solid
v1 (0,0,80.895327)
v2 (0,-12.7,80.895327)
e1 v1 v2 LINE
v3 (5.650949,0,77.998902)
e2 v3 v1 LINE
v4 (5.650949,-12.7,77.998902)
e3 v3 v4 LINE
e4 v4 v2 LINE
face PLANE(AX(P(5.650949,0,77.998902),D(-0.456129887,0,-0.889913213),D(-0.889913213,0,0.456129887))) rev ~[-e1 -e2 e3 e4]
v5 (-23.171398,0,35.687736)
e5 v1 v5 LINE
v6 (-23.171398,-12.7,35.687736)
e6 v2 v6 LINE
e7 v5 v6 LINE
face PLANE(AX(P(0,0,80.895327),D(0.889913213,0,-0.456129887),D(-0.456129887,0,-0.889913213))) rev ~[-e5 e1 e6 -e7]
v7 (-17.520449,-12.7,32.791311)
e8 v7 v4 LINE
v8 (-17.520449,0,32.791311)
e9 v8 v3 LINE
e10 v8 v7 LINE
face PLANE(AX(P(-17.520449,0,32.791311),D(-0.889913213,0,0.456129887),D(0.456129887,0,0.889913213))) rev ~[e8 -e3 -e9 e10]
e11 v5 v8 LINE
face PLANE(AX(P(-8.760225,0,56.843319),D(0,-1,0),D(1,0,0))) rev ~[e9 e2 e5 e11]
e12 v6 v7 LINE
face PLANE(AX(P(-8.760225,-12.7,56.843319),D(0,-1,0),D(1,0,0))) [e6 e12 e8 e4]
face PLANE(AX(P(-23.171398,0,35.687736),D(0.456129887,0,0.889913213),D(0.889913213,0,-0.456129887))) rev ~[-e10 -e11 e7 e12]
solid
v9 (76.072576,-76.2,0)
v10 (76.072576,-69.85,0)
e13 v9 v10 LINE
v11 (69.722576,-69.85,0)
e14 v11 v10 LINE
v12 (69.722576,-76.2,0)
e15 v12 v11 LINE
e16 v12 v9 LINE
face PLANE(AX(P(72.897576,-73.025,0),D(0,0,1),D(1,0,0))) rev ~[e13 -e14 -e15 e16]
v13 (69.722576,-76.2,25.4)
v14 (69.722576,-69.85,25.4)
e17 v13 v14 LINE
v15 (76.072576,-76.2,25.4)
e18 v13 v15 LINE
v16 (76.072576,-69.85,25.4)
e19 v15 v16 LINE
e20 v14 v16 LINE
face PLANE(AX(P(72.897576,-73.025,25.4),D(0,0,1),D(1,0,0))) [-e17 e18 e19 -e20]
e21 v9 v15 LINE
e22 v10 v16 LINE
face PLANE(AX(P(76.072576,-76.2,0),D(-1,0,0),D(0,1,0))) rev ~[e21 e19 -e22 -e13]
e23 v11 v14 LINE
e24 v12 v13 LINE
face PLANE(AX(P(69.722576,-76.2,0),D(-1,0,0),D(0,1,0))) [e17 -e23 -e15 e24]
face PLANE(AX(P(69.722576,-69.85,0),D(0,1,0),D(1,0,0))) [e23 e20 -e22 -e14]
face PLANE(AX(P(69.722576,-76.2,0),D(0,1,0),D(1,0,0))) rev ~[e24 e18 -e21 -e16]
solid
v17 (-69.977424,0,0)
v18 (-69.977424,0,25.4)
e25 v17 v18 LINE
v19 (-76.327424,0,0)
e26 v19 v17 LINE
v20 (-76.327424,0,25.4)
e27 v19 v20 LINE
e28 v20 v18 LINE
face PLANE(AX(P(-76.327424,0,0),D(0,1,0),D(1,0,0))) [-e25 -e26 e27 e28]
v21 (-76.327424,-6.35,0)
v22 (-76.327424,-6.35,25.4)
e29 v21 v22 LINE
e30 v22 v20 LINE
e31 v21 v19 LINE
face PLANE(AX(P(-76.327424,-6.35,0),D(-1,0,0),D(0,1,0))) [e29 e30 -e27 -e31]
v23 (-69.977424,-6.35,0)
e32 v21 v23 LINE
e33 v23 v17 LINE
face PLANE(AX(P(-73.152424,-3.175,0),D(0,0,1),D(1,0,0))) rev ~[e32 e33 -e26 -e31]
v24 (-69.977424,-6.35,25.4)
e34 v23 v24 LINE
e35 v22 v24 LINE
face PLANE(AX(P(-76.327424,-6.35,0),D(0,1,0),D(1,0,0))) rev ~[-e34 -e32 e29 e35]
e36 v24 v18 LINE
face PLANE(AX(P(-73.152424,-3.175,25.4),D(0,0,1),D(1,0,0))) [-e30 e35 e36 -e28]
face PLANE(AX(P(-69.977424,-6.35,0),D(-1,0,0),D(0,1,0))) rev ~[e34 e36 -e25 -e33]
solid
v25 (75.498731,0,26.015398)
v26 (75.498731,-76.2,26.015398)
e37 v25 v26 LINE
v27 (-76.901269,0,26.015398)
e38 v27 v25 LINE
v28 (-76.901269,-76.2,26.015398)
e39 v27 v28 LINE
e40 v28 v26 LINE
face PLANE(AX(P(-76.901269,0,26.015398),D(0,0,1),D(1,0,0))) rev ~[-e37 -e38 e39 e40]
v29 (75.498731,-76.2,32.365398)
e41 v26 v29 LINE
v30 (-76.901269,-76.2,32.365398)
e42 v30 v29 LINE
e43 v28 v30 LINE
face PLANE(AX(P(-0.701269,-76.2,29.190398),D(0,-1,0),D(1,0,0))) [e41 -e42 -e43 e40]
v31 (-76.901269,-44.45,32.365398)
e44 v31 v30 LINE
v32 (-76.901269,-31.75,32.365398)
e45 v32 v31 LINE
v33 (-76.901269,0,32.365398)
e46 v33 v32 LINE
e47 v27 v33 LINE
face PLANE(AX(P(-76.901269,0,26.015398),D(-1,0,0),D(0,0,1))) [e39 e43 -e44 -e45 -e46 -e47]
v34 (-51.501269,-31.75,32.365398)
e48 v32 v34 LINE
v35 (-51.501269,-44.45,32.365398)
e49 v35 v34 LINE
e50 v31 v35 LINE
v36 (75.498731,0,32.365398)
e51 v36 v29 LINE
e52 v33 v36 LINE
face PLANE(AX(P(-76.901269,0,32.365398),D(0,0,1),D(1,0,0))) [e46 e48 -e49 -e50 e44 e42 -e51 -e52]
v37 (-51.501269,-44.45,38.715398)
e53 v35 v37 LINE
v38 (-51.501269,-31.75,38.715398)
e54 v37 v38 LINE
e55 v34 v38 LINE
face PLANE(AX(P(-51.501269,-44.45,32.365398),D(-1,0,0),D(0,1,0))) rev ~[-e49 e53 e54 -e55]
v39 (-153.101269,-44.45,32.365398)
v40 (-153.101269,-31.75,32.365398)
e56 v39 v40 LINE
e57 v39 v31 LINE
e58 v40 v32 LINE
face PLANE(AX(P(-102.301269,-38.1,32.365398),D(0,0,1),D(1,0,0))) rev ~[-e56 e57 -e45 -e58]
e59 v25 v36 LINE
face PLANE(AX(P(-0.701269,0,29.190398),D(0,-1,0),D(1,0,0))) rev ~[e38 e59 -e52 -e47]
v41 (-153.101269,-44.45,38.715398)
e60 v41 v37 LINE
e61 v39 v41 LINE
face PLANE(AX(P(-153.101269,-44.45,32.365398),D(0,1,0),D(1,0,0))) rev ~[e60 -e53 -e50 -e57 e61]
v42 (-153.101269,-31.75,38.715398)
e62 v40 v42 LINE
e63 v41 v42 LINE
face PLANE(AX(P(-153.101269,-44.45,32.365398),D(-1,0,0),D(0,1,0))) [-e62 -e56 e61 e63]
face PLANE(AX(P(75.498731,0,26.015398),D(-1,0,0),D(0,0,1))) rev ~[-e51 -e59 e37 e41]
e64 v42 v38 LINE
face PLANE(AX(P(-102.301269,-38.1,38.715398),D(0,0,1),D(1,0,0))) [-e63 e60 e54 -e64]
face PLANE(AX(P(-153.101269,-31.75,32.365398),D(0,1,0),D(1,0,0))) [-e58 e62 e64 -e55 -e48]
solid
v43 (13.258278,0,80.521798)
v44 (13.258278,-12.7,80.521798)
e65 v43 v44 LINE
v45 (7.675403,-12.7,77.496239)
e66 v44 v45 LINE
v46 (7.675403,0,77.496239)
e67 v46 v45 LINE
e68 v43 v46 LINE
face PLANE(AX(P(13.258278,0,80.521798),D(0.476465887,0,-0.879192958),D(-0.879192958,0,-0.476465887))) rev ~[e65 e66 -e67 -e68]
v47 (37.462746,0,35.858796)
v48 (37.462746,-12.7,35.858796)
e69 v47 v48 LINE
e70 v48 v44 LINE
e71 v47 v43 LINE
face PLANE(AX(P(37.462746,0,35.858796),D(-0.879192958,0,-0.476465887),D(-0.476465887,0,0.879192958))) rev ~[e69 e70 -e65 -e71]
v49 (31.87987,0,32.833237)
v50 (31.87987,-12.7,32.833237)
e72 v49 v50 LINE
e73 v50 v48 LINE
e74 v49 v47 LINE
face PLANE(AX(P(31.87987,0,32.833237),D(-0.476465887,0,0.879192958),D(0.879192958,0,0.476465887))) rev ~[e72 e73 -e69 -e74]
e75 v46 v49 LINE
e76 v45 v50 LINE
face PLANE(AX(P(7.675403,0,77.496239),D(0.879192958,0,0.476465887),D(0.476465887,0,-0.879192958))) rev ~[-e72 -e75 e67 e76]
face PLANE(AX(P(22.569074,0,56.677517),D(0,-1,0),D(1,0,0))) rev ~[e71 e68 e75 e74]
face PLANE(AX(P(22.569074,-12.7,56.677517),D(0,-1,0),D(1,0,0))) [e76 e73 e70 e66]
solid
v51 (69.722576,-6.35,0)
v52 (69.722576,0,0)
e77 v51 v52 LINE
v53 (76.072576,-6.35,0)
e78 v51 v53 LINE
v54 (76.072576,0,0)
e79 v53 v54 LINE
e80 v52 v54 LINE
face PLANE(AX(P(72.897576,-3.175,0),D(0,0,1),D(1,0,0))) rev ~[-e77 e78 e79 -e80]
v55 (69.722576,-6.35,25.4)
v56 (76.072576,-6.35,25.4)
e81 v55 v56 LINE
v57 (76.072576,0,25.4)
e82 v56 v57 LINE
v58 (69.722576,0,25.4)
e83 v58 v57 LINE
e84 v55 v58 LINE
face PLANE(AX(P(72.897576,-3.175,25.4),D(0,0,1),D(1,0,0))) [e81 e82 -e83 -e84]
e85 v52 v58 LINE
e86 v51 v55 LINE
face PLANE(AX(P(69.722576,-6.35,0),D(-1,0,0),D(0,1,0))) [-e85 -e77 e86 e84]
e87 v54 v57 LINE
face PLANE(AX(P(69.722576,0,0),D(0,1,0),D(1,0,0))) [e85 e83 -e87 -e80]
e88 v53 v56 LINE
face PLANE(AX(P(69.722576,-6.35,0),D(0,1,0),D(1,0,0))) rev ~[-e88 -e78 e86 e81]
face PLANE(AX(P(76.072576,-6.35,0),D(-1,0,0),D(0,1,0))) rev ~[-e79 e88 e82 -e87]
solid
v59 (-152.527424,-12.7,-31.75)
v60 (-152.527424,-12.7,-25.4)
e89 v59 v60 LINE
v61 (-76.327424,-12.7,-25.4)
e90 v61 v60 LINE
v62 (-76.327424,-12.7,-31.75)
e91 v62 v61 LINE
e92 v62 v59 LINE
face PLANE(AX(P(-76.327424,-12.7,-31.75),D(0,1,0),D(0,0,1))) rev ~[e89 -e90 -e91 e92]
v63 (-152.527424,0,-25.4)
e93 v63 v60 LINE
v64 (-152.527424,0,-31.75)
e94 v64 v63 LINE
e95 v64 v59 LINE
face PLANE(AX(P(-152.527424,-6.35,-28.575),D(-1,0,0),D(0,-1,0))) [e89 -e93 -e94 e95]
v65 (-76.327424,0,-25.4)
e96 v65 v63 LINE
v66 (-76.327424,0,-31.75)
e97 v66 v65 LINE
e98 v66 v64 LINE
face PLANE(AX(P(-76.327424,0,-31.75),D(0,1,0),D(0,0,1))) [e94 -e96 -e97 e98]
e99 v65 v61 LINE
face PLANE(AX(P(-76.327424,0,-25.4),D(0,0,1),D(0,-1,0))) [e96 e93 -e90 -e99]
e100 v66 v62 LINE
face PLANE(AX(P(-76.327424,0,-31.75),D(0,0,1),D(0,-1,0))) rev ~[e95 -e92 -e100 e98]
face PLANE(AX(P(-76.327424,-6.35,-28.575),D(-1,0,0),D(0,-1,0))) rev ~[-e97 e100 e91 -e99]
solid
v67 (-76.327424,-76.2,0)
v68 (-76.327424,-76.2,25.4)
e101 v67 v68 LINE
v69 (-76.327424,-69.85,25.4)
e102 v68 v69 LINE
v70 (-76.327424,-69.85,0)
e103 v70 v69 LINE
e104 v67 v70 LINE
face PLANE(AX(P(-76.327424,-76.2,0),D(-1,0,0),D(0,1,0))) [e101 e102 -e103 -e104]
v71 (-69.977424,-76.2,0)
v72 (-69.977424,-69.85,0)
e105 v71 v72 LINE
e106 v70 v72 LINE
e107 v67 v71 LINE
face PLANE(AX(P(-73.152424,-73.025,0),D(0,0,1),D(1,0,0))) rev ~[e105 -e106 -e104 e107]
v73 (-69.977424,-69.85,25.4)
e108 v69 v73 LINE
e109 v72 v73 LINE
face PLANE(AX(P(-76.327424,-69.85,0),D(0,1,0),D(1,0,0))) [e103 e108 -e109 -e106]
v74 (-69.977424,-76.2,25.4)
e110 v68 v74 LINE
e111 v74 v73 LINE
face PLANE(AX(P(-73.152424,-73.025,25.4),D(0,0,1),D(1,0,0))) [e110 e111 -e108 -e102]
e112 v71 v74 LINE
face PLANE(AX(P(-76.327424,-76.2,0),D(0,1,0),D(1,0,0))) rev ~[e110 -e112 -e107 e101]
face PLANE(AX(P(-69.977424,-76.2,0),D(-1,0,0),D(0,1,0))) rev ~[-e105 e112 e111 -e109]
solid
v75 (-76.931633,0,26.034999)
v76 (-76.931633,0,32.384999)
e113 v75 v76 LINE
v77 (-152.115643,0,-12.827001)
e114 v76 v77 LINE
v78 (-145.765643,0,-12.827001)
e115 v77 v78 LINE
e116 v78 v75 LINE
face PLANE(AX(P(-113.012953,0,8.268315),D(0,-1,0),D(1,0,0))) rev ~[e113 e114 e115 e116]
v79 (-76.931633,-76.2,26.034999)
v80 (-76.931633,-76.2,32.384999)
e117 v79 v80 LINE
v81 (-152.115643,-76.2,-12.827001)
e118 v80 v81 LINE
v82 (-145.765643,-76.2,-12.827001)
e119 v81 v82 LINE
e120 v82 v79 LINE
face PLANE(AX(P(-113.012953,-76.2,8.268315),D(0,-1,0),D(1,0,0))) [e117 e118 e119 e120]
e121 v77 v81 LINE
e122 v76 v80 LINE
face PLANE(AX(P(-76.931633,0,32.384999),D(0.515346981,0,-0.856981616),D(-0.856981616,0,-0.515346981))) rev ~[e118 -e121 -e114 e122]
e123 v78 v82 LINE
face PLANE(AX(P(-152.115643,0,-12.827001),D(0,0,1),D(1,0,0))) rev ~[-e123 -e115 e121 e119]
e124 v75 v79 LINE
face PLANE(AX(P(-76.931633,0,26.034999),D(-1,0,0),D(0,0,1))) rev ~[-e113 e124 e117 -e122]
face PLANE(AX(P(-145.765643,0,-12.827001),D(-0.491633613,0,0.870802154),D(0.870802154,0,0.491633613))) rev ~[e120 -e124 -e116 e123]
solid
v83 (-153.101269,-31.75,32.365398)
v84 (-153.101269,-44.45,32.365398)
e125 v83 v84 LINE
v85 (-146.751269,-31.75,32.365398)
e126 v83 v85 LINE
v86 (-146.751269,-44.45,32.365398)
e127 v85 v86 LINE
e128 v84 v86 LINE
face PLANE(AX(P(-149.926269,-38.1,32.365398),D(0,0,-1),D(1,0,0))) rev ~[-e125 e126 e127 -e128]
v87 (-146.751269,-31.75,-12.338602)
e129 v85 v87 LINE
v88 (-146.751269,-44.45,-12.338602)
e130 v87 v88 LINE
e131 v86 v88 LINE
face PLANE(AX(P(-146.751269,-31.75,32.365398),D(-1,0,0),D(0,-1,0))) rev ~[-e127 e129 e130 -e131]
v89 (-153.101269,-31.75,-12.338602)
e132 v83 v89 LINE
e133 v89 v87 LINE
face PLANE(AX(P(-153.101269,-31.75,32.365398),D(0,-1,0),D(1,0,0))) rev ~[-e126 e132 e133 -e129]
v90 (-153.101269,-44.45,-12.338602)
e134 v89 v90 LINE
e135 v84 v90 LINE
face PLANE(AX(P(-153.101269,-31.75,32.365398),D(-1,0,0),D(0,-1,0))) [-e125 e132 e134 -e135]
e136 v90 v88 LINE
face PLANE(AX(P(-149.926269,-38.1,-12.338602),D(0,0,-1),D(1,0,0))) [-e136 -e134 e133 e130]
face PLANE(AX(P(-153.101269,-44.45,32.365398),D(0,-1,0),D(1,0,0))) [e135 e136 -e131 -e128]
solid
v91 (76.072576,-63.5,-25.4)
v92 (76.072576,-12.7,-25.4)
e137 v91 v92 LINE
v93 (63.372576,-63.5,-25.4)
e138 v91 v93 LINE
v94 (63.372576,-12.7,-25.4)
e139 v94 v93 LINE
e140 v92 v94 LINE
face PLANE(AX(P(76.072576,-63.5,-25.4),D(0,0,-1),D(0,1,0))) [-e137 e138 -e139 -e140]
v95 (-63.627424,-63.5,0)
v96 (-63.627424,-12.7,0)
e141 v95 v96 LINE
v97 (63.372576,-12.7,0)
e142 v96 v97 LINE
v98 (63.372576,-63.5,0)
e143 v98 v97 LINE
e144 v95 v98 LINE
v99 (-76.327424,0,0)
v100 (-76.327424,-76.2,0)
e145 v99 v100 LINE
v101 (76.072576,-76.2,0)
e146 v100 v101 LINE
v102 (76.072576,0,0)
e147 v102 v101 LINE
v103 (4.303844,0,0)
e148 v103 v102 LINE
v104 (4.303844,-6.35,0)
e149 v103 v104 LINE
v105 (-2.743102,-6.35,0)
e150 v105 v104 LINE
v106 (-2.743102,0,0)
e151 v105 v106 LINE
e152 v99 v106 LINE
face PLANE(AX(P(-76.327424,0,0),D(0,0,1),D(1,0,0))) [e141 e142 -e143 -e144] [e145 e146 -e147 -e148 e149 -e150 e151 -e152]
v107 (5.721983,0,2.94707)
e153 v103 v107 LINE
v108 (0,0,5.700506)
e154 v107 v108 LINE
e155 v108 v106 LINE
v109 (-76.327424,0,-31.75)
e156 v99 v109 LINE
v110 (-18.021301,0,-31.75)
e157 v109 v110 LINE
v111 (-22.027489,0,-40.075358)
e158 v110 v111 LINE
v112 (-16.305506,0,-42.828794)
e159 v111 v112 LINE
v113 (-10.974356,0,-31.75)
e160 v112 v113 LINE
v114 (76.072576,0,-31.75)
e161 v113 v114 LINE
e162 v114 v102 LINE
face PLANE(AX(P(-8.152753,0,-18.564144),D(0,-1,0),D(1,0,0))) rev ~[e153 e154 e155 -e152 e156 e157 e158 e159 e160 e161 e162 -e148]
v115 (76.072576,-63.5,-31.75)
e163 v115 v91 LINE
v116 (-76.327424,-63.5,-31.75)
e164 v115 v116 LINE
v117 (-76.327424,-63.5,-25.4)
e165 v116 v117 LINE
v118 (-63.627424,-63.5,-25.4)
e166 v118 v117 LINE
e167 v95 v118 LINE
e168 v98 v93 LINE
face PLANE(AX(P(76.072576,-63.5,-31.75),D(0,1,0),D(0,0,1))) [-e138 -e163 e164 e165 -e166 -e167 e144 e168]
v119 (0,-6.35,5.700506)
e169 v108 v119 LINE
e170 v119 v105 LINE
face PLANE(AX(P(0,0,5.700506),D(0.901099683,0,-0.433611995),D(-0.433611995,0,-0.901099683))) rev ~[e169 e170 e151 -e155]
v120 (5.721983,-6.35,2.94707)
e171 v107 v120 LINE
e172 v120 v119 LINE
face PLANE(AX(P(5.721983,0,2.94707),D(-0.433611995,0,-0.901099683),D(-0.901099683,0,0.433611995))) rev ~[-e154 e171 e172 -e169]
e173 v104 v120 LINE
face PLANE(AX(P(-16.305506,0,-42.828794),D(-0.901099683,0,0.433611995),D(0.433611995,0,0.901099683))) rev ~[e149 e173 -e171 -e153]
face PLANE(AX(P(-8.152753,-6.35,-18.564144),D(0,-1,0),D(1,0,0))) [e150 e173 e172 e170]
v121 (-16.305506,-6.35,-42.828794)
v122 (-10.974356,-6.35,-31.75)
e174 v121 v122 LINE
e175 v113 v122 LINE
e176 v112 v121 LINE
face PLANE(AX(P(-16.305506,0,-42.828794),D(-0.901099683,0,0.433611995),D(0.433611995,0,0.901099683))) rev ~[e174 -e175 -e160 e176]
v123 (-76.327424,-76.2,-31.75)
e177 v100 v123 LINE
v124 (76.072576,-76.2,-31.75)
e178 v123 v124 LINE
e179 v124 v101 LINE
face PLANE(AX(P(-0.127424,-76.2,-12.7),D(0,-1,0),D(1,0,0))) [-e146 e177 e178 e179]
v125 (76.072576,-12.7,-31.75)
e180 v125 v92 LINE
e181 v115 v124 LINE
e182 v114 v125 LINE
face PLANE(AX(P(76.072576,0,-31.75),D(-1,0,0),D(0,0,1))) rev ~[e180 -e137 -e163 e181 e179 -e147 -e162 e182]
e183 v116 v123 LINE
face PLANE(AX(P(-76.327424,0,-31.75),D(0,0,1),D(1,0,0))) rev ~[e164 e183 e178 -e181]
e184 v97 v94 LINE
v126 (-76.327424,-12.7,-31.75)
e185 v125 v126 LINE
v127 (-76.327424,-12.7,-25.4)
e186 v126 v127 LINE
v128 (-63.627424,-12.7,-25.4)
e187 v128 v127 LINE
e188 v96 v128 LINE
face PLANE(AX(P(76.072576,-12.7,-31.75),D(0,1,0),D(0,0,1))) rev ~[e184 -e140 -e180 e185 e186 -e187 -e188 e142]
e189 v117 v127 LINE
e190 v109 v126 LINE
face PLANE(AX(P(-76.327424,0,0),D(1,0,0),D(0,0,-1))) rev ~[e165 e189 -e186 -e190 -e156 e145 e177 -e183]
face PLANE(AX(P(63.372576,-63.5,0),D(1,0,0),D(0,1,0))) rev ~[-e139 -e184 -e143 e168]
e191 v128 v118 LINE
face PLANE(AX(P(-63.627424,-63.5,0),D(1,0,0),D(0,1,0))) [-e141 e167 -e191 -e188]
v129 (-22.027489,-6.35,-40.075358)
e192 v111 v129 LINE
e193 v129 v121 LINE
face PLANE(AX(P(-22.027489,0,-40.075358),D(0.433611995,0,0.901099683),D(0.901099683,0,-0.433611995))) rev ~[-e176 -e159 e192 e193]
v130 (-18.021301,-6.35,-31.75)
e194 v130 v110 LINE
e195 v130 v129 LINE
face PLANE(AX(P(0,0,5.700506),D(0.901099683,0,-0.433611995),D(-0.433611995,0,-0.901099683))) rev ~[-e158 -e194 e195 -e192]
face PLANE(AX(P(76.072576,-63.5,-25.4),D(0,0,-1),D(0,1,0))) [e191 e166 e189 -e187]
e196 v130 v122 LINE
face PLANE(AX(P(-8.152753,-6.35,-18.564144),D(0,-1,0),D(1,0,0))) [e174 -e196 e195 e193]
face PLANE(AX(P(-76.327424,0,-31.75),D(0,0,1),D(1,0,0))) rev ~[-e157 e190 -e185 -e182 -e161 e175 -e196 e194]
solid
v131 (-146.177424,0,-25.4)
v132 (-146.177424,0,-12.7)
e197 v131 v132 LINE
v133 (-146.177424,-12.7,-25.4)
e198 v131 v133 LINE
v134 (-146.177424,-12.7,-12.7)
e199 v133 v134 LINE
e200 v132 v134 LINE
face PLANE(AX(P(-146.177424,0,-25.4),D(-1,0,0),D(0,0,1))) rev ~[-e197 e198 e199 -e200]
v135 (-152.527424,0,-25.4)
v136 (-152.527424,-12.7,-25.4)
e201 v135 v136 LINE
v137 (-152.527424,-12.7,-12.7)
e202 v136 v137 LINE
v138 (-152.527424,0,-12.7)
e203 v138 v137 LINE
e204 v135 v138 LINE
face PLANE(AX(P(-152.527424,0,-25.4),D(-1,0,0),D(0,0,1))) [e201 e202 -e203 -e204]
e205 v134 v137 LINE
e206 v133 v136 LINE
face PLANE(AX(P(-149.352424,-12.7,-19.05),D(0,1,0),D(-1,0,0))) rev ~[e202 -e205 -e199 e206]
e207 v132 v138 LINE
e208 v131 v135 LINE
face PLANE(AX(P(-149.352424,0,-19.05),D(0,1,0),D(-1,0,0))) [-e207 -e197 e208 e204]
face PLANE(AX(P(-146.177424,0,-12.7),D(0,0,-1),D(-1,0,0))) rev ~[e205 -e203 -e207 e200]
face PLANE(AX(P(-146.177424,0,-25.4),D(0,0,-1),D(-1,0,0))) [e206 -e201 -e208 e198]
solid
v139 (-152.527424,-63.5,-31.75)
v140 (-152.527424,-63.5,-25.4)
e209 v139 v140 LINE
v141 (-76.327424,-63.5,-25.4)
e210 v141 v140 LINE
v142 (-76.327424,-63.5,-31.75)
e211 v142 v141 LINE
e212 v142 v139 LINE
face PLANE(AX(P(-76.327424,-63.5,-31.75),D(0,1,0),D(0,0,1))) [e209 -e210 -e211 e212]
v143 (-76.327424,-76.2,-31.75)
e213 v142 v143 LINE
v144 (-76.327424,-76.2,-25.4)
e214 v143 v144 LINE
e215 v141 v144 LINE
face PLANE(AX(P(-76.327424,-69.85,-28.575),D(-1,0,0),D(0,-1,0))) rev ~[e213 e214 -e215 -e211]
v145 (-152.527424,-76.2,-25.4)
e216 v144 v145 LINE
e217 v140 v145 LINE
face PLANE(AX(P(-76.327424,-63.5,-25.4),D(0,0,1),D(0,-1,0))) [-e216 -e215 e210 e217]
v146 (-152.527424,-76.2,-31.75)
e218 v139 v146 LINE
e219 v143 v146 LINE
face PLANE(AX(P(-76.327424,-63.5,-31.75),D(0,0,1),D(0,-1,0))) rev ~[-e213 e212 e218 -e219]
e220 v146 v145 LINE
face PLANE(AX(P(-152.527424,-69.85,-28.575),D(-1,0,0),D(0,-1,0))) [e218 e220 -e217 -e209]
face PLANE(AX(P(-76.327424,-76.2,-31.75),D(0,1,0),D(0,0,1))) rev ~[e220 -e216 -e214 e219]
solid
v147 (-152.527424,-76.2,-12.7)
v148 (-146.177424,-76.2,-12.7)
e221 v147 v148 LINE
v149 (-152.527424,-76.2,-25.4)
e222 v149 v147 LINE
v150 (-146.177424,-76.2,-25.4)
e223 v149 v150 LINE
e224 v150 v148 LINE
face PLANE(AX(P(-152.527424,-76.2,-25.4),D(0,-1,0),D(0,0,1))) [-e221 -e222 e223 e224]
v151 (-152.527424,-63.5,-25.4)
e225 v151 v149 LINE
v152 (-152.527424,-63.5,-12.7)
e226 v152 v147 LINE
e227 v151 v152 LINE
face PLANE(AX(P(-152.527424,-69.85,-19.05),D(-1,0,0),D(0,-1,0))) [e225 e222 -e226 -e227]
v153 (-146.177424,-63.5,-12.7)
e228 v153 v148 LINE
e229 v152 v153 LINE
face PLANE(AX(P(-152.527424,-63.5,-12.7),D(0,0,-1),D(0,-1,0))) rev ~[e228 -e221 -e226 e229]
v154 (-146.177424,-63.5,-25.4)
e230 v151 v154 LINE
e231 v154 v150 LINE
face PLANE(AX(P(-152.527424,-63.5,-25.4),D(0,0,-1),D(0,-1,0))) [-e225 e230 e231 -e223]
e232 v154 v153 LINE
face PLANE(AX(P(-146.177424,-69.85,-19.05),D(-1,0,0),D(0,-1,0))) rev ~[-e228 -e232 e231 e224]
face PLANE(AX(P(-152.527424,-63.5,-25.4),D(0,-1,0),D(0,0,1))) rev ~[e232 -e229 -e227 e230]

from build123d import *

# Parameters (mm, degrees)
F0_W      = 152.4
F0_H      = 25.4
F0_H_2    = 6.35
F1_DEPTH  = 76.2
F2_W      = 50.8
F2_H      = 6.35
F3_DEPTH  = 175.006
F4_W      = 127
F4_H      = 50.8
F5_DEPTH  = 43.688
F6_W      = 6.35
F6_H      = 6.35
F7_DEPTH  = 25.4
F8_DEPTH  = 25.4
F9_DEPTH  = 25.4
F10_DEPTH = 25.4
F11_W     = 152.4
F11_H     = 6.35
F12_DEPTH = 76.2
F13_W     = 101.6
F13_H     = 12.7
F14_DEPTH = 6.35
F15_W     = 12.7
F15_H     = 6.35
F16_DEPTH = 76.2
F17_W     = 12.7
F17_H     = 6.35
F19_DEPTH = 76.2
F20_W     = 6.35
F20_H     = 12.7
F21_DEPTH = 12.7
F22_W     = 12.7
F22_H     = 12.7
F23_DEPTH = 6.35
F25_DEPTH = 76.2
F26_W     = 6.35
F26_H     = 12.7
F27_DEPTH = 44.704
F29_DEPTH = 12.7
F31_DEPTH = 12.7
F33_DEPTH = 6.35


with BuildPart() as f1:
    # F0 (on Front) → F1 (new body)
    with BuildSketch(Plane.XZ):
        with Locations((-0.1274236178, -12.7)):
            Rectangle(F0_W, F0_H)
        with Locations((-0.1274236178, -28.575)):
            Rectangle(F0_W, F0_H_2)
    extrude(amount=F1_DEPTH)

    # F2 (on face) → F3 (cut)
    with BuildSketch(Plane.YZ.offset(76.0725763822)):
        with Locations((-38.1, -28.575)):
            Rectangle(F2_W, F2_H)
    extrude(amount=-F3_DEPTH, mode=Mode.SUBTRACT)

    # F4 (on face) → F5 (cut)
    with BuildSketch(Plane.XY):
        with Locations((-0.1274236178, -38.1)):
            Rectangle(F4_W, F4_H)
    extrude(amount=-F5_DEPTH, mode=Mode.SUBTRACT)

    # F32 (on Front) → F33 (join)
    with BuildSketch(Plane.XZ):
        Polygon((0, 5.7005062699), (-22.0274893392, -40.0753576041), (-16.305506355, -42.8287937715), (5.7219829842, 2.9470701025), align=None)
    extrude(amount=F33_DEPTH)


with BuildPart() as f7:
    # F6 (on face) → F7 (new body)
    with BuildSketch(Plane.XY):
        with Locations((-73.1524236178, -3.175)):
            Rectangle(F6_W, F6_H)
    extrude(amount=F7_DEPTH)


with BuildPart() as f8:
    # F6 (on face) → F8 (new body)
    with BuildSketch(Plane.XY):
        with Locations((-73.1524236178, -73.025)):
            Rectangle(F6_W, F6_H)
    extrude(amount=F8_DEPTH)


with BuildPart() as f9:
    # F6 (on face) → F9 (new body)
    with BuildSketch(Plane.XY):
        with Locations((72.8975763822, -3.175)):
            Rectangle(F6_W, F6_H)
    extrude(amount=F9_DEPTH)


with BuildPart() as f10:
    # F6 (on face) → F10 (new body)
    with BuildSketch(Plane.XY):
        with Locations((72.8975763822, -73.025)):
            Rectangle(F6_W, F6_H)
    extrude(amount=F10_DEPTH)


with BuildPart() as f12:
    # F11 (on Front) → F12 (new body)
    with BuildSketch(Plane.XZ):
        with Locations((-0.7012687636, 29.1903975472)):
            Rectangle(F11_W, F11_H)
    extrude(amount=F12_DEPTH)

    # F13 (on face) → F14 (join)
    with BuildSketch(Plane.XY.offset(32.3653975472)):
        with Locations((-102.3012687636, -38.1)):
            Rectangle(F13_W, F13_H)
    extrude(amount=F14_DEPTH)


with BuildPart() as f16:
    # F15 (on face) → F16 (new body)
    with BuildSketch(Plane(origin=(-76.3274236178, 0, 0), x_dir=(0, -1, 0), z_dir=(-1, 0, 0))):
        with Locations((6.35, -28.575)):
            Rectangle(F15_W, F15_H)
    extrude(amount=F16_DEPTH)


with BuildPart() as f19:
    # F17 (on face) → F19 (new body)
    with BuildSketch(Plane(origin=(-76.3274236178, 0, 0), x_dir=(0, -1, 0), z_dir=(-1, 0, 0))):
        with Locations((69.85, -28.575)):
            Rectangle(F17_W, F17_H)
    extrude(amount=F19_DEPTH)


with BuildPart() as f21:
    # F20 (on face) → F21 (new body)
    with BuildSketch(Plane(origin=(0, 0, 0), x_dir=(-1, 0, 0), z_dir=(0, 1, 0))):
        with Locations((149.3524236178, -19.05)):
            Rectangle(F20_W, F20_H)
    extrude(amount=-F21_DEPTH)


with BuildPart() as f23:
    # F22 (on face) → F23 (new body)
    with BuildSketch(Plane(origin=(-152.5274236178, 0, 0), x_dir=(0, -1, 0), z_dir=(-1, 0, 0))):
        with Locations((69.85, -19.05)):
            Rectangle(F22_W, F22_H)
    extrude(amount=-F23_DEPTH)


with BuildPart() as f25:
    # F24 (on Front) → F25 (new body)
    with BuildSketch(Plane.XZ):
        Polygon((-152.1156430244, -12.8270005807), (-145.7656430244, -12.8270005807), (-76.9316330552, 26.0349990964), (-76.9316330552, 32.3849990964), align=None)
    extrude(amount=F25_DEPTH)


with BuildPart() as f27:
    # F26 (on face) → F27 (new body)
    with BuildSketch(Plane(origin=(0, 0, 32.3653975472), x_dir=(1, 0, 0), z_dir=(0, 0, -1))):
        with Locations((-149.9262687636, 38.1)):
            Rectangle(F26_W, F26_H)
    extrude(amount=F27_DEPTH)


with BuildPart() as f29:
    # F28 (on Front) → F29 (new body)
    with BuildSketch(Plane.XZ):
        Polygon((0, 80.8953270316), (-23.1713982343, 35.6877358122), (-17.5204493319, 32.7913110329), (5.6509489024, 77.9989022523), align=None)
    extrude(amount=F29_DEPTH)


with BuildPart() as f31:
    # F30 (on Front) → F31 (new body)
    with BuildSketch(Plane.XZ):
        Polygon((37.4627455747, 35.8587955256), (13.2582784958, 80.5217978142), (7.6754032098, 77.4962394293), (31.8798702887, 32.8332371408), align=None)
    extrude(amount=F31_DEPTH)


solid = Compound([f1.part, f7.part, f8.part, f9.part, f10.part, f12.part, f16.part, f19.part, f21.part, f23.part, f25.part, f27.part, f29.part, f31.part])
